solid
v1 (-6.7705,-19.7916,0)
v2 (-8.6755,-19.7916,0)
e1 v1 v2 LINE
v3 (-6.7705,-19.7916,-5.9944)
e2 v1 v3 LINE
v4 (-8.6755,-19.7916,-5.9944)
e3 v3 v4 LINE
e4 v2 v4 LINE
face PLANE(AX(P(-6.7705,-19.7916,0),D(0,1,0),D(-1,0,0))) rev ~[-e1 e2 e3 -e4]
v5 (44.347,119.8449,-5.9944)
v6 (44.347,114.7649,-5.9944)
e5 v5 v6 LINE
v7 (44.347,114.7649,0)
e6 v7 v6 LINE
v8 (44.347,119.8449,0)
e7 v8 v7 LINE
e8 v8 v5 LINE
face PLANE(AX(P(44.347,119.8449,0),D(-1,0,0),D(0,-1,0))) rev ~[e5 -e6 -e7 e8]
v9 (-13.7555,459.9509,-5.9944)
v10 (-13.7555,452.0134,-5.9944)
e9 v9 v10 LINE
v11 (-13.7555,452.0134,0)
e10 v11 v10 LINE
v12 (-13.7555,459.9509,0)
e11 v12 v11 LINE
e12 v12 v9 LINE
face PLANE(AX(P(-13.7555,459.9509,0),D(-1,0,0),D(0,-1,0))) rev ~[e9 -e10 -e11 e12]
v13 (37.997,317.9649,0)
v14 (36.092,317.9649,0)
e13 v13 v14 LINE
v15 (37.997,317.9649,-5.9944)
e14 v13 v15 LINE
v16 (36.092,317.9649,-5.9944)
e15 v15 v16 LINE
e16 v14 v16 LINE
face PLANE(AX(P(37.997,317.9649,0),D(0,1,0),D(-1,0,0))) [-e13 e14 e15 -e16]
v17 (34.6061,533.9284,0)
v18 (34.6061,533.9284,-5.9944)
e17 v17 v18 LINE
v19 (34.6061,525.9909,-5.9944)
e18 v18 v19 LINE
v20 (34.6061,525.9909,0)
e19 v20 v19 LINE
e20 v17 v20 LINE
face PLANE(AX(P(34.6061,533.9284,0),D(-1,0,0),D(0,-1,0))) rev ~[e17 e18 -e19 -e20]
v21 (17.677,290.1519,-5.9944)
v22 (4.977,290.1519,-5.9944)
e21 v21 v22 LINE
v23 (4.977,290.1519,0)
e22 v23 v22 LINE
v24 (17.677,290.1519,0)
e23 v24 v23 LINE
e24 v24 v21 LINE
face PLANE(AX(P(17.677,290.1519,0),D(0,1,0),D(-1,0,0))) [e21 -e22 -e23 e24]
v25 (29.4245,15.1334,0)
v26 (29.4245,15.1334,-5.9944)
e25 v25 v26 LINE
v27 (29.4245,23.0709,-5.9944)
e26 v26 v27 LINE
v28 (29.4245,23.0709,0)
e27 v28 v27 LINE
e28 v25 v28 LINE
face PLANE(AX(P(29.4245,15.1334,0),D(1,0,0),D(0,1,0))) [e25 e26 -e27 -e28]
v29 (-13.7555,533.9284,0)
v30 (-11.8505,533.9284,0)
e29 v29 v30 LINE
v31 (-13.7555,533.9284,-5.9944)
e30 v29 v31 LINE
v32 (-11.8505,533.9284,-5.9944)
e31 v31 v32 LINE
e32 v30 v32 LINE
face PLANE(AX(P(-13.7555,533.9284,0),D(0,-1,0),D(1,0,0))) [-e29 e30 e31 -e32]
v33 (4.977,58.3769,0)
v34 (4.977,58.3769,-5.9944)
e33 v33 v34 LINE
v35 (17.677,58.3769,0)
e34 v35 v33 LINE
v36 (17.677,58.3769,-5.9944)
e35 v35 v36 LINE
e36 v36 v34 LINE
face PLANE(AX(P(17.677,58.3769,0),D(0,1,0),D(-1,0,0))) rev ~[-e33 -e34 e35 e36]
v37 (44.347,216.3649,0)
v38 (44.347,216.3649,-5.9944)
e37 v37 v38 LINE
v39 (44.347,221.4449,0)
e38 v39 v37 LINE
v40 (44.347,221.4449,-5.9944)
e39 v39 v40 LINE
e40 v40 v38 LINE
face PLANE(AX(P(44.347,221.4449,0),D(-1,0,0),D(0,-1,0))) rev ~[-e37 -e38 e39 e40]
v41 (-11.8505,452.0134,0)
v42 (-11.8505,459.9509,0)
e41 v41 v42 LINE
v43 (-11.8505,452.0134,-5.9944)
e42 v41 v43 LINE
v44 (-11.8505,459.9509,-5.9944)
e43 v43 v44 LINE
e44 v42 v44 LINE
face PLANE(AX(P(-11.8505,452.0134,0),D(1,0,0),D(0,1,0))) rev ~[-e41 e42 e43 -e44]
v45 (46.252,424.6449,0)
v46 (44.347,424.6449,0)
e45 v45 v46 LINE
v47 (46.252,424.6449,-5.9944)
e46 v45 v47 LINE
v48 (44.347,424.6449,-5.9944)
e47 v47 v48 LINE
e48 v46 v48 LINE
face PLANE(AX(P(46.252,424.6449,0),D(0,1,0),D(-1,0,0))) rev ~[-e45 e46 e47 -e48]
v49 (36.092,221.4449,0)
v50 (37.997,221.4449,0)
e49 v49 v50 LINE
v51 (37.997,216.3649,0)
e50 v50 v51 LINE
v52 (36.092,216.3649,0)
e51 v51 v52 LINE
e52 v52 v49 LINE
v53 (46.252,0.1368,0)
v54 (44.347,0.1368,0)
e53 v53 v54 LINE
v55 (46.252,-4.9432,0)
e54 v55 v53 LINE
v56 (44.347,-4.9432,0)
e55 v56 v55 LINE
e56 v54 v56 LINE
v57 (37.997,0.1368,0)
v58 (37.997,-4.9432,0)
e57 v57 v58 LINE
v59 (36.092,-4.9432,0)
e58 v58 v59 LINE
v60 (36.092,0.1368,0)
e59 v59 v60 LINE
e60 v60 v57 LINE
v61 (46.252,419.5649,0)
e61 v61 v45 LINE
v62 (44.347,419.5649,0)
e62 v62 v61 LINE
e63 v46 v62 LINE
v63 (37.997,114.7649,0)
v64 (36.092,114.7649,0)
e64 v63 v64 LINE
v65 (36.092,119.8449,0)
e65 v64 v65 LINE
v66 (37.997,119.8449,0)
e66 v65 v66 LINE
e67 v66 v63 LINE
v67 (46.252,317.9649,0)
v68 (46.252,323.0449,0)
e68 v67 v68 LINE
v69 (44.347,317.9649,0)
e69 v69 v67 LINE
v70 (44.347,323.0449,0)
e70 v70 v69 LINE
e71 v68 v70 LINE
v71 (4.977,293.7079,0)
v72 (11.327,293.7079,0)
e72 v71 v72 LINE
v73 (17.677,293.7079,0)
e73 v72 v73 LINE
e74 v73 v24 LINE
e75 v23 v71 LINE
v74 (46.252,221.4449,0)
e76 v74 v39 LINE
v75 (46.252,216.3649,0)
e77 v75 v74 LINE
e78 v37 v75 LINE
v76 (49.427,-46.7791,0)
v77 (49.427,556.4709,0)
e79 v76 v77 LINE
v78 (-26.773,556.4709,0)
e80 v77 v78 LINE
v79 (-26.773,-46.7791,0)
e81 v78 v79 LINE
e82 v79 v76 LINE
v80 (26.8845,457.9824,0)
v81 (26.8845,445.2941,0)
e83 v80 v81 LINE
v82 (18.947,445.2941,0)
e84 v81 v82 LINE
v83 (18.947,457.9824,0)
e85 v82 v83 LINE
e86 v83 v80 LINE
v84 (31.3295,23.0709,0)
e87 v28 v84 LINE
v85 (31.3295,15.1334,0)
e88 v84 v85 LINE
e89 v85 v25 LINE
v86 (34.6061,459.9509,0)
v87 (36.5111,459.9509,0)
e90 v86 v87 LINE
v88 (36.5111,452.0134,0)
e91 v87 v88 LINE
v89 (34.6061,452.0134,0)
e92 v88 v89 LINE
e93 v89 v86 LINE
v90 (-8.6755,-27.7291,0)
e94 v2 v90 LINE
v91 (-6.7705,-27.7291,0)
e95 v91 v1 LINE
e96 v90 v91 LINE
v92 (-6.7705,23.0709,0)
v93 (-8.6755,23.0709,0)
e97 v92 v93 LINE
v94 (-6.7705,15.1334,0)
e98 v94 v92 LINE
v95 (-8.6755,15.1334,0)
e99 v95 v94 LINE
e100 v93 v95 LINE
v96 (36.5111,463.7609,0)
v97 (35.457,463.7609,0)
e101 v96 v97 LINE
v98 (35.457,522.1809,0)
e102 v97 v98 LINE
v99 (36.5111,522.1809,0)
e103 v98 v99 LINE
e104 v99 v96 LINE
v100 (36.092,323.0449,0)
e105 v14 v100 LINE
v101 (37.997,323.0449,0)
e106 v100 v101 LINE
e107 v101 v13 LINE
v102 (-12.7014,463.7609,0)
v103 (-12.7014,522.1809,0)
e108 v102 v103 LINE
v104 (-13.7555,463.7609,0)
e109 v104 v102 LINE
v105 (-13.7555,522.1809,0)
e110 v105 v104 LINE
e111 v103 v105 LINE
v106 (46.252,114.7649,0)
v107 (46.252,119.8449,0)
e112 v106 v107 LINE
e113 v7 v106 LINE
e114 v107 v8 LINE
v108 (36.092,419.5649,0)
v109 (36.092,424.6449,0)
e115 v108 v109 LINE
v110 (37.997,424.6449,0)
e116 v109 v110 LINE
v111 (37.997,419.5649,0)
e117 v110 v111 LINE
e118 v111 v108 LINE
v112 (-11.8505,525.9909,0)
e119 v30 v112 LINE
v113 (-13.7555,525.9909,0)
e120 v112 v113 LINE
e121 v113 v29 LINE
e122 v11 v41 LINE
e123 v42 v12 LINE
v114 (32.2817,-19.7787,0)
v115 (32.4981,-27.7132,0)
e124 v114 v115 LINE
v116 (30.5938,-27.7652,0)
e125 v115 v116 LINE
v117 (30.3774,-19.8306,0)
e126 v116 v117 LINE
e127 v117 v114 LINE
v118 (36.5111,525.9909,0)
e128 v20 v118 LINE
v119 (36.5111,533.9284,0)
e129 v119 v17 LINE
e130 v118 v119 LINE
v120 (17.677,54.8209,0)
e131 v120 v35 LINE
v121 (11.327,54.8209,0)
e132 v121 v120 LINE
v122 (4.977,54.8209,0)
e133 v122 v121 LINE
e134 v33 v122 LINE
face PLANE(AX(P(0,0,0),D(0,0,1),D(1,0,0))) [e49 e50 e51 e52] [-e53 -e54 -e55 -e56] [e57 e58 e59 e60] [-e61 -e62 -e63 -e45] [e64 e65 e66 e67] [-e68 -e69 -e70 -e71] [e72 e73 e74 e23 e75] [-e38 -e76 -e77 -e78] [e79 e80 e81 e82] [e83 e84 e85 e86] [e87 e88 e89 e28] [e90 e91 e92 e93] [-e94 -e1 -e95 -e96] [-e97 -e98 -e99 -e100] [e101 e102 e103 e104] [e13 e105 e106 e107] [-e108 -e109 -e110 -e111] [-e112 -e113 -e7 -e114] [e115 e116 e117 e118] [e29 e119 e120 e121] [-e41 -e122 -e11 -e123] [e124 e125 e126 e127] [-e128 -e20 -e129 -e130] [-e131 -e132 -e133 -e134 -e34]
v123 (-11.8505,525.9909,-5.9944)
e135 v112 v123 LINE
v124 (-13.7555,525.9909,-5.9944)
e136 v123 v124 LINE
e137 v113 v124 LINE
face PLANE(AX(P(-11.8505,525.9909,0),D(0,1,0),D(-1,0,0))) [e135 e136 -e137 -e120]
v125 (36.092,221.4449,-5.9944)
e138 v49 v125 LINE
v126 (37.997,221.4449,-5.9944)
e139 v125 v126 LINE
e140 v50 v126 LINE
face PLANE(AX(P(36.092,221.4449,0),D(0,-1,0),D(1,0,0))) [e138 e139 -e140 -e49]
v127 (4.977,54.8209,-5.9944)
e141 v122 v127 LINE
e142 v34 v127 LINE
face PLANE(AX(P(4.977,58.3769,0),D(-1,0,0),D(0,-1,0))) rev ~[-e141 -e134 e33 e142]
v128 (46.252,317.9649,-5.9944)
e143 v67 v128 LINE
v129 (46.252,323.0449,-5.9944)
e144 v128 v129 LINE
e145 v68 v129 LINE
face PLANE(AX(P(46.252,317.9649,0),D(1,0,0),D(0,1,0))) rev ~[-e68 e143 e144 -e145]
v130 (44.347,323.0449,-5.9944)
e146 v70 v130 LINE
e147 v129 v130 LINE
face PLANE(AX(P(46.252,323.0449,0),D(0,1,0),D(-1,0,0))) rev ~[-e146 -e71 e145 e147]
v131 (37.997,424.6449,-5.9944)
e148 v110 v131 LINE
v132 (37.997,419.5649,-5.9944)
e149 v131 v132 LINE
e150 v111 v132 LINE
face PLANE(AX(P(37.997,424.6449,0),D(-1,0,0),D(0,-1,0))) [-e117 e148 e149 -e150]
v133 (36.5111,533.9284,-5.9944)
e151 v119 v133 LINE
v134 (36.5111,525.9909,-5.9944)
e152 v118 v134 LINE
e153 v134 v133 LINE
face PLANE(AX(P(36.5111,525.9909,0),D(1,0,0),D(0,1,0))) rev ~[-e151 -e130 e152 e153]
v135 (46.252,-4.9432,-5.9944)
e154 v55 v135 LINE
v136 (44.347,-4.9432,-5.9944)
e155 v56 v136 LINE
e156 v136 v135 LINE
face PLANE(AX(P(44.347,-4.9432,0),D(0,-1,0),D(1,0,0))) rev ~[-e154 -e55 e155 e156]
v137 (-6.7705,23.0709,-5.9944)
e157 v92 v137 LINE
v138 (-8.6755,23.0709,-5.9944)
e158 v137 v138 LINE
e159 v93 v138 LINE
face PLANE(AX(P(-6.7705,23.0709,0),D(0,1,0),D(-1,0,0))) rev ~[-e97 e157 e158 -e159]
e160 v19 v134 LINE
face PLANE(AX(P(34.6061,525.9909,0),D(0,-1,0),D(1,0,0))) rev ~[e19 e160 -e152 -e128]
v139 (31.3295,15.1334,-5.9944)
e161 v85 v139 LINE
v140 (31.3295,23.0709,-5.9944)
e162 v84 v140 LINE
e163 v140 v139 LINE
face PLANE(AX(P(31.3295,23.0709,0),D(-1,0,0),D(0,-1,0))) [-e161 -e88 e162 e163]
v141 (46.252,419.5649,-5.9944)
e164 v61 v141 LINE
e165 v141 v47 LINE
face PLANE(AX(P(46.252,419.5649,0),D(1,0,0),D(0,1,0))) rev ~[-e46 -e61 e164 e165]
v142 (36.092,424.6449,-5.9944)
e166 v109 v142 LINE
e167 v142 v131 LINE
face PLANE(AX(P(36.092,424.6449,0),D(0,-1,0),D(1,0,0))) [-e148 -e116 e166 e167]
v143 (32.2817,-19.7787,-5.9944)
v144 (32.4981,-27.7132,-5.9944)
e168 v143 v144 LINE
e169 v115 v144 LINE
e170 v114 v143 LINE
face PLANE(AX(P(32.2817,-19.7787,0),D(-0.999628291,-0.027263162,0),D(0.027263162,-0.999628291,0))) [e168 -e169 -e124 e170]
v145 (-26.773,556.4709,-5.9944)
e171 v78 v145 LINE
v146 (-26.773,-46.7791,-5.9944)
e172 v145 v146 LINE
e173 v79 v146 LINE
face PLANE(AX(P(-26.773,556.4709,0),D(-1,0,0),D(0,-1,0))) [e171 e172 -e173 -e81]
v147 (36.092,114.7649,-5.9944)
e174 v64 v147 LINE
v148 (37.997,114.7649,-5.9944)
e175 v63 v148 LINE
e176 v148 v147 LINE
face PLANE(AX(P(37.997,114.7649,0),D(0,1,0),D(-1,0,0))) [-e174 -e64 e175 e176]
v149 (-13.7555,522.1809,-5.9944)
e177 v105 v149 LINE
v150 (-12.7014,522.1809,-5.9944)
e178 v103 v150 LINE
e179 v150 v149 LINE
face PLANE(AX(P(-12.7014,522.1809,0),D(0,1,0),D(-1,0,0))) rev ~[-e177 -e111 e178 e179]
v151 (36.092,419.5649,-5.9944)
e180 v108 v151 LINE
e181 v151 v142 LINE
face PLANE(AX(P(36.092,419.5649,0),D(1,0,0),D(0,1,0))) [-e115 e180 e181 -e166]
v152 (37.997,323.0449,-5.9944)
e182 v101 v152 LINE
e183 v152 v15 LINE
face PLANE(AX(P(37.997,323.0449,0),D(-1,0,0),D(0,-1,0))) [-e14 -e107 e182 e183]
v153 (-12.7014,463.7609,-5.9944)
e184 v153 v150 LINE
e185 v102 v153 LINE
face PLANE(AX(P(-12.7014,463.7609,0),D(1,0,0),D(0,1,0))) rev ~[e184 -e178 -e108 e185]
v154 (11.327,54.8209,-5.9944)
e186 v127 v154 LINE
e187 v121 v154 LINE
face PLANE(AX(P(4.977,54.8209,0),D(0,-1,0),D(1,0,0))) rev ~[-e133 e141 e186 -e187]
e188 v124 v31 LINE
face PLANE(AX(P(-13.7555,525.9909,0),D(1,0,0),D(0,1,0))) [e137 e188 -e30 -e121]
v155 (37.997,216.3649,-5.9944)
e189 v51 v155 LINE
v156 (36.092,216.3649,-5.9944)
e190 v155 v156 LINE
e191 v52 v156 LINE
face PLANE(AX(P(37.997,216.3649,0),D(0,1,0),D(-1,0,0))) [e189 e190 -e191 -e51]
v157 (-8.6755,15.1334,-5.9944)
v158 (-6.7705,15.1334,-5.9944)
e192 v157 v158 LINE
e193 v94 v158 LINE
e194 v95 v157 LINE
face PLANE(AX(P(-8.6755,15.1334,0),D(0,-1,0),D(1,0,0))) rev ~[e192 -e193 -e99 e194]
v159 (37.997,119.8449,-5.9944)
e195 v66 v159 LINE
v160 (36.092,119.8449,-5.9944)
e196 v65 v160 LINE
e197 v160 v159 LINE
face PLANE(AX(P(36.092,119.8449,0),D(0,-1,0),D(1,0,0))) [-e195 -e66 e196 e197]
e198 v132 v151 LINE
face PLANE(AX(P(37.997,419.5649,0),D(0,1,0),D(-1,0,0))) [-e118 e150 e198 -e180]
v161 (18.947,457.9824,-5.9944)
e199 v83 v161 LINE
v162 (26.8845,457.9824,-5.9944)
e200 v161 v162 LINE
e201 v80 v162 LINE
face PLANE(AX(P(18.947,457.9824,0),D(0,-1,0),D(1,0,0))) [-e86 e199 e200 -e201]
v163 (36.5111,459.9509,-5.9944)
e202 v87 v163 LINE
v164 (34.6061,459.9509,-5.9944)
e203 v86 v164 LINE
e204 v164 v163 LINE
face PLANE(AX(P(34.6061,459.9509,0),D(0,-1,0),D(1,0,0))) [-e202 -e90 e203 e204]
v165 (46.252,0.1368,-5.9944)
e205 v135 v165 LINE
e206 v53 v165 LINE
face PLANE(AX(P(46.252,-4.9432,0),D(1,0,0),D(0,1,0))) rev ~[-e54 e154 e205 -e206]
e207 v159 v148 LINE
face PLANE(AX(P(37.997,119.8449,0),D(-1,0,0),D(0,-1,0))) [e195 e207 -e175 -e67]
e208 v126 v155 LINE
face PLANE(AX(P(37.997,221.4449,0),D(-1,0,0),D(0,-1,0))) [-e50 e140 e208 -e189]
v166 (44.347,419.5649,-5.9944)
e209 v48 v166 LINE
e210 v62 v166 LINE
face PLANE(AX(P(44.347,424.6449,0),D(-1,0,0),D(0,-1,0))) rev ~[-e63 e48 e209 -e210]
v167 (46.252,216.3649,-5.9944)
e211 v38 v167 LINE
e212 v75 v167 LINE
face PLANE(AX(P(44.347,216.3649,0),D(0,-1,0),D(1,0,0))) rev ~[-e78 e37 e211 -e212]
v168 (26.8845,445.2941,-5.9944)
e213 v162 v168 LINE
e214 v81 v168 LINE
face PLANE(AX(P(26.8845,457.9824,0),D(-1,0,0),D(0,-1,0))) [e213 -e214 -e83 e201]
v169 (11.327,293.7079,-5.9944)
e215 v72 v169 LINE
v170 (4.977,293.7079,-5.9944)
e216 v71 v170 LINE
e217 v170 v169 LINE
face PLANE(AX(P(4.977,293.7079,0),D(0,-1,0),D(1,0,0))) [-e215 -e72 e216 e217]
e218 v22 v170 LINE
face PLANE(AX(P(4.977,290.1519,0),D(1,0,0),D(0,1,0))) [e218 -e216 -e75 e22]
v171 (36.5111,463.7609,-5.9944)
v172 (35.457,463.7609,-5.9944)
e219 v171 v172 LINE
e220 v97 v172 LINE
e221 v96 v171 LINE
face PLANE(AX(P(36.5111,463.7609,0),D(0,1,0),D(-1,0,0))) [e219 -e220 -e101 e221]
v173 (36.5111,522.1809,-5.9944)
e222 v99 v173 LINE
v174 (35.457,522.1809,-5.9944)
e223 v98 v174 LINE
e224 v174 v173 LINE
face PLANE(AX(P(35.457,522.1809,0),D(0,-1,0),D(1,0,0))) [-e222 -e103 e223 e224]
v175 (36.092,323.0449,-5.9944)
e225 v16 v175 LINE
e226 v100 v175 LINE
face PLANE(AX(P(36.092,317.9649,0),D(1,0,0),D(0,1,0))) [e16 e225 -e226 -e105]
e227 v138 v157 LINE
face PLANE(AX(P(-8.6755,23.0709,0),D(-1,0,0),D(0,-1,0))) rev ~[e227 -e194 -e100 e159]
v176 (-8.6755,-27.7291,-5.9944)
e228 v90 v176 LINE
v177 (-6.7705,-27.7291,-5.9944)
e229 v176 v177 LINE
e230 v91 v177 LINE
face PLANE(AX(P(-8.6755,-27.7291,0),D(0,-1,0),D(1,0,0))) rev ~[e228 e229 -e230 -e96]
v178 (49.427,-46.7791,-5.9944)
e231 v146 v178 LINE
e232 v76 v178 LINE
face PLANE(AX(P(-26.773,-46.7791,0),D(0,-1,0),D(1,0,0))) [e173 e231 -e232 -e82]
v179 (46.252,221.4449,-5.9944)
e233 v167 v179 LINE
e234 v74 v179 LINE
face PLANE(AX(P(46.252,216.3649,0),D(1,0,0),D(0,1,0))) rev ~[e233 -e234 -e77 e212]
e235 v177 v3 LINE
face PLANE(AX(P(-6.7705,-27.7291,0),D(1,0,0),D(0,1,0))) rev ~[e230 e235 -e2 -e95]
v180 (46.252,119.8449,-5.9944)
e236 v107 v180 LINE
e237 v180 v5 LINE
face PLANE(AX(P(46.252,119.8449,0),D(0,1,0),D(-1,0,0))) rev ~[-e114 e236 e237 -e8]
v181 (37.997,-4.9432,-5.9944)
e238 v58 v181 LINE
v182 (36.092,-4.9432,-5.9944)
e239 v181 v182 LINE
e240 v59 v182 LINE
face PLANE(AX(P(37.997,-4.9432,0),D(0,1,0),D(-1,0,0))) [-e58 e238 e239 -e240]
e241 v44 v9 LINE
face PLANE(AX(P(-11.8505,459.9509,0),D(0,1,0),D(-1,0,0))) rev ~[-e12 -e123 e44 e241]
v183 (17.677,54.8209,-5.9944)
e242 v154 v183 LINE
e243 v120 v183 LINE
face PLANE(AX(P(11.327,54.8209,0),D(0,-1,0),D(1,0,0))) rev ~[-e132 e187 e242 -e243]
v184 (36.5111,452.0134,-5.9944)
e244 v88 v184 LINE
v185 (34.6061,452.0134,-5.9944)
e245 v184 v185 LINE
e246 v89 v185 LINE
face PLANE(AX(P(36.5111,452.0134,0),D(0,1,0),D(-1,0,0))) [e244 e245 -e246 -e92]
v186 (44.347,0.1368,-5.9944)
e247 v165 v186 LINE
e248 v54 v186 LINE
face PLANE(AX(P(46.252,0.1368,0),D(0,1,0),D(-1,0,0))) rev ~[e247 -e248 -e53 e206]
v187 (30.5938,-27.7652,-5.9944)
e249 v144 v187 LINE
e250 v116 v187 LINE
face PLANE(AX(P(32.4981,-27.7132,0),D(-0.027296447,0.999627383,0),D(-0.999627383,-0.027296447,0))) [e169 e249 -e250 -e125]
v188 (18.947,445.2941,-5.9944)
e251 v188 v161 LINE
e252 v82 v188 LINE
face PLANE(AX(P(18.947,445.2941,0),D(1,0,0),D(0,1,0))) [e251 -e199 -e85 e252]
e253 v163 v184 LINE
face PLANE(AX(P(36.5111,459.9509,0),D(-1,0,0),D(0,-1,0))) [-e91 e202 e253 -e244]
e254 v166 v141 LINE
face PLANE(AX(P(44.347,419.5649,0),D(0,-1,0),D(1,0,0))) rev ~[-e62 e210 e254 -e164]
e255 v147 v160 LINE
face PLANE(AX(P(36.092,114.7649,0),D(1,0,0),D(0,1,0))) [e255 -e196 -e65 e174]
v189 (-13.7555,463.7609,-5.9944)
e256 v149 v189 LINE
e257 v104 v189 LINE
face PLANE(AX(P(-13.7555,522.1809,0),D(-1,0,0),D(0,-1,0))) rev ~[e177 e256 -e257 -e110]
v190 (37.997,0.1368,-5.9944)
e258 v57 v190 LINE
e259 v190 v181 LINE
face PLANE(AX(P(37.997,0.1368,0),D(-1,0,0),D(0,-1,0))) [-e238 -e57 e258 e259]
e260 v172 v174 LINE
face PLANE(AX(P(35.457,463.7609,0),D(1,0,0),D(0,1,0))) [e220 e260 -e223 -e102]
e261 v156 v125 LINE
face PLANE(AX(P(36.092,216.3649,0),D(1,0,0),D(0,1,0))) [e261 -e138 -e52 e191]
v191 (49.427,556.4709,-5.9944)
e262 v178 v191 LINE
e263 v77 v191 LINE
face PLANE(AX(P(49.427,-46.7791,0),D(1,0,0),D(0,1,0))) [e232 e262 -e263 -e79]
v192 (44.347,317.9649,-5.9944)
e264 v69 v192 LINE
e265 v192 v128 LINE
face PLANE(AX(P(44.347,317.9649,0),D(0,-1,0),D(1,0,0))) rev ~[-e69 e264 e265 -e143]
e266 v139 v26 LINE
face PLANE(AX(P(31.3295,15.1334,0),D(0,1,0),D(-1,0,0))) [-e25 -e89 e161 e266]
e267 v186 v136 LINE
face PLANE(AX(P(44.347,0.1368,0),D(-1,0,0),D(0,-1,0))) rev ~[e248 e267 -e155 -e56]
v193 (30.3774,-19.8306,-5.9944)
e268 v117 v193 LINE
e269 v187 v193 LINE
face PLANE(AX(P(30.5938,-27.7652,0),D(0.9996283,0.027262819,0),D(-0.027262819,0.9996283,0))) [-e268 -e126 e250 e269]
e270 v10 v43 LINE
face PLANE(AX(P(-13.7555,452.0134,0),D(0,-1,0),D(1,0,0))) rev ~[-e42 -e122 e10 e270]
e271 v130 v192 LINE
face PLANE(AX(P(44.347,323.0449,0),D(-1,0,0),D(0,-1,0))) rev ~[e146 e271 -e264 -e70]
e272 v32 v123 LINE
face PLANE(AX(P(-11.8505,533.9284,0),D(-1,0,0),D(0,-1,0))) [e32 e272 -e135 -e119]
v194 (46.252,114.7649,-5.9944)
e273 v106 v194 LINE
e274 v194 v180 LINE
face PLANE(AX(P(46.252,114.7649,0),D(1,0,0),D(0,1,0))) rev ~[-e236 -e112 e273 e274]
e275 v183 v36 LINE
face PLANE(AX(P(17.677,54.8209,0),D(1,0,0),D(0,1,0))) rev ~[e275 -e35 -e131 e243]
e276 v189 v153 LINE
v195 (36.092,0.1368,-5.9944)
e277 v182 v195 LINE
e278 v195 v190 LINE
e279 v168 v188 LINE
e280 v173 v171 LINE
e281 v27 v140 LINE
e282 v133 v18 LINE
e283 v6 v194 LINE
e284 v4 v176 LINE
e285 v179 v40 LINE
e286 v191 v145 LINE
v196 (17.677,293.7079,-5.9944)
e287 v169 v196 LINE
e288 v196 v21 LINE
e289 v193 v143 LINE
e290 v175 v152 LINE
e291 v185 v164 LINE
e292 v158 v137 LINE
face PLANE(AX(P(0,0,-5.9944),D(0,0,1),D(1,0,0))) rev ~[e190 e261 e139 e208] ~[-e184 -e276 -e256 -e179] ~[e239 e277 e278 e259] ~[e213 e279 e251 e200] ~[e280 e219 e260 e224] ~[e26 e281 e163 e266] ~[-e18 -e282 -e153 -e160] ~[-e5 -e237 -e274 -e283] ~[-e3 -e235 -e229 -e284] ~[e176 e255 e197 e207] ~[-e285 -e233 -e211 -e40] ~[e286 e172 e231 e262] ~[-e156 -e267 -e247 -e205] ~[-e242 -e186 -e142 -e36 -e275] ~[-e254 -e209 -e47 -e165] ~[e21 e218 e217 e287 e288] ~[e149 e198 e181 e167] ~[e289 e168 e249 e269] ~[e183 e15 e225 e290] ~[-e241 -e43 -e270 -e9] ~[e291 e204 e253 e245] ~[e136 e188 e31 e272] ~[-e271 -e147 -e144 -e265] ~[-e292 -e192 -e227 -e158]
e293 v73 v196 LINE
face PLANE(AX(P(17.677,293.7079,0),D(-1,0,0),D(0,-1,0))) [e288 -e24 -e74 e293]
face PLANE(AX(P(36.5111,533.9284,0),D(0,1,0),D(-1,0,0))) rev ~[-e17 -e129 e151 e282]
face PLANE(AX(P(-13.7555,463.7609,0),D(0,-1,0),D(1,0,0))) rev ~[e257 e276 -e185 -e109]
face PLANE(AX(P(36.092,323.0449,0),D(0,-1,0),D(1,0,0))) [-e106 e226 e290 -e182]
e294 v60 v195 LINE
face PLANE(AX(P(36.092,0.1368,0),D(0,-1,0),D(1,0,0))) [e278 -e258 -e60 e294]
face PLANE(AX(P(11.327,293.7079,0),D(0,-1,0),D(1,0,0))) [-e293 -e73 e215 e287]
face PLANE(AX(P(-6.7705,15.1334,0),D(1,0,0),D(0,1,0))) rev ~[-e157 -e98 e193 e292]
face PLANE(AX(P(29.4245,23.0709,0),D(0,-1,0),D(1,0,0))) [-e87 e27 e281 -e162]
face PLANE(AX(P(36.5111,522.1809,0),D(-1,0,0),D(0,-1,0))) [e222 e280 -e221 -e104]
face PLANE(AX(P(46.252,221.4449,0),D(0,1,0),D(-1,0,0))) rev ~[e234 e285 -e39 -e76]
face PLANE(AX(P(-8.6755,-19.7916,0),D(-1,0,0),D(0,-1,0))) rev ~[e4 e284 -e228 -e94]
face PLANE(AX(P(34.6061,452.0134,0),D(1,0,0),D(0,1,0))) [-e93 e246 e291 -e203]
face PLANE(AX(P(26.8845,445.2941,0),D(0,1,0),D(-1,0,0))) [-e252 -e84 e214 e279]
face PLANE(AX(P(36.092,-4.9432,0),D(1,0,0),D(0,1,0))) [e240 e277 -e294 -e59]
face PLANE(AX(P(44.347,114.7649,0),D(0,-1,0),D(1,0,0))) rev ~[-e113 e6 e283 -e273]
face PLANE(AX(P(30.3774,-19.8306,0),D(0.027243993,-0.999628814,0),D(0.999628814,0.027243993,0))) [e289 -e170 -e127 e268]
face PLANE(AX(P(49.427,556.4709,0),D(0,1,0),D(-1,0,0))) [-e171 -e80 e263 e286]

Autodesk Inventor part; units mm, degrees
ref_plane "YZ Plane" through (0, 0, 0) normal (1, 0, 0) x (0, 1, 0)
ref_plane "XZ Plane" through (0, 0, 0) normal (0, 1, 0) x (-1, 0, 0)
ref_plane "XY Plane" through (0, 0, 0) normal (0, 0, 1) x (1, 0, 0)
sketch "Sketch1" plane through (0, 0, 0) normal (0, 0, 1) x (1, 0, 0)
  point P0 (0, 0)
sketch "Sketch2" plane through (0, 0, 0) normal (0, 0, 1) x (1, 0, 0)
  line L0 (-26.773, -46.7791) -> (49.427, -46.7791)
  line L1 (49.427, -46.7791) -> (49.427, 556.4709)
  line L2 (-26.773, 556.4709) -> (-26.773, -46.7791)
  line L3 (-13.7555, 533.9284) -> (-11.8505, 533.9284)
  line L4 (-11.8505, 533.9284) -> (-11.8505, 525.9909)
  line L5 (-11.8505, 525.9909) -> (-13.7555, 525.9909)
  line L6 (-13.7555, 525.9909) -> (-13.7555, 533.9284)
  line L7 (46.252, 424.6449) -> (44.347, 424.6449)
  line L8 (44.347, 424.6449) -> (44.347, 419.5649)
  line L9 (44.347, 419.5649) -> (46.252, 419.5649)
  line L10 (46.252, 419.5649) -> (46.252, 424.6449)
  line L11 (36.5111, 522.1809) -> (36.5111, 463.7609)
  line L12 (36.5111, 463.7609) -> (35.457, 463.7609)
  line L13 (35.457, 463.7609) -> (35.457, 522.1809)
  line L14 (35.457, 522.1809) -> (36.5111, 522.1809)
  line L15 (-13.7555, 522.1809) -> (-13.7555, 463.7609)
  line L16 (-13.7555, 463.7609) -> (-12.7014, 463.7609)
  line L17 (-12.7014, 463.7609) -> (-12.7014, 522.1809)
  line L18 (-12.7014, 522.1809) -> (-13.7555, 522.1809)
  line L19 (26.8845, 445.2941) -> (18.947, 445.2941)
  line L20 (18.947, 445.2941) -> (18.947, 457.9824)
  line L21 (18.947, 457.9824) -> (26.8845, 457.9824)
  line L22 (26.8845, 457.9824) -> (26.8845, 445.2941)
  line L23 (11.327, 54.8209) -> (17.677, 54.8209)
  line L24 (17.677, 54.8209) -> (17.677, 58.3769)
  line L25 (17.677, 58.3769) -> (4.977, 58.3769)
  line L26 (4.977, 58.3769) -> (4.977, 54.8209)
  line L27 (4.977, 54.8209) -> (11.327, 54.8209)
  line L28 (11.327, 293.7079) -> (17.677, 293.7079)
  line L29 (17.677, 293.7079) -> (17.677, 290.1519)
  line L30 (17.677, 290.1519) -> (4.977, 290.1519)
  line L31 (4.977, 290.1519) -> (4.977, 293.7079)
  line L32 (4.977, 293.7079) -> (11.327, 293.7079)
  line L33 (36.092, 424.6449) -> (37.997, 424.6449)
  line L34 (37.997, 424.6449) -> (37.997, 419.5649)
  line L35 (37.997, 419.5649) -> (36.092, 419.5649)
  line L36 (36.092, 419.5649) -> (36.092, 424.6449)
  line L37 (46.252, 323.0449) -> (44.347, 323.0449)
  line L38 (44.347, 323.0449) -> (44.347, 317.9649)
  line L39 (44.347, 317.9649) -> (46.252, 317.9649)
  line L40 (46.252, 317.9649) -> (46.252, 323.0449)
  line L41 (36.092, 323.0449) -> (37.997, 323.0449)
  line L42 (37.997, 323.0449) -> (37.997, 317.9649)
  line L43 (37.997, 317.9649) -> (36.092, 317.9649)
  line L44 (36.092, 317.9649) -> (36.092, 323.0449)
  line L45 (46.252, 221.4449) -> (44.347, 221.4449)
  line L46 (44.347, 221.4449) -> (44.347, 216.3649)
  line L47 (44.347, 216.3649) -> (46.252, 216.3649)
  line L48 (46.252, 216.3649) -> (46.252, 221.4449)
  line L49 (36.092, 221.4449) -> (37.997, 221.4449)
  line L50 (37.997, 221.4449) -> (37.997, 216.3649)
  line L51 (37.997, 216.3649) -> (36.092, 216.3649)
  line L52 (36.092, 216.3649) -> (36.092, 221.4449)
  line L53 (46.252, 0.1368) -> (44.347, 0.1368)
  line L54 (44.347, 0.1368) -> (44.347, -4.9432)
  line L55 (44.347, -4.9432) -> (46.252, -4.9432)
  line L56 (46.252, -4.9432) -> (46.252, 0.1368)
  line L57 (36.092, 0.1368) -> (37.997, 0.1368)
  line L58 (37.997, 0.1368) -> (37.997, -4.9432)
  line L59 (37.997, -4.9432) -> (36.092, -4.9432)
  line L60 (36.092, -4.9432) -> (36.092, 0.1368)
  line L61 (49.427, 556.4709) -> (-26.773, 556.4709)
  line L62 (46.252, 424.6449) -> (147.852, 424.6449) construction
  line L63 (46.252, 119.8449) -> (147.852, 119.8449) construction
  line L64 (46.252, 119.8449) -> (44.347, 119.8449)
  line L65 (44.347, 119.8449) -> (44.347, 114.7649)
  line L66 (44.347, 114.7649) -> (46.252, 114.7649)
  line L67 (46.252, 114.7649) -> (46.252, 119.8449)
  line L68 (36.092, 119.8449) -> (37.997, 119.8449)
  line L69 (36.092, 114.7649) -> (36.092, 119.8449)
  line L70 (37.997, 114.7649) -> (36.092, 114.7649)
  line L71 (37.997, 119.8449) -> (37.997, 114.7649)
  line L72 (36.5111, 533.9284) -> (34.6061, 533.9284)
  line L73 (34.6061, 533.9284) -> (34.6061, 525.9909)
  line L74 (34.6061, 525.9909) -> (36.5111, 525.9909)
  line L75 (36.5111, 525.9909) -> (36.5111, 533.9284)
  line L76 (-13.7555, 452.0134) -> (-11.8505, 452.0134)
  line L77 (-11.8505, 452.0134) -> (-11.8505, 459.9509)
  line L78 (-11.8505, 459.9509) -> (-13.7555, 459.9509)
  line L79 (-13.7555, 459.9509) -> (-13.7555, 452.0134)
  line L80 (34.6061, 459.9509) -> (36.5111, 459.9509)
  line L81 (34.6061, 452.0134) -> (34.6061, 459.9509)
  line L82 (36.5111, 459.9509) -> (36.5111, 452.0134)
  line L83 (36.5111, 452.0134) -> (34.6061, 452.0134)
  line L84 (29.4245, 23.0709) -> (31.3295, 23.0709)
  line L85 (31.3295, 23.0709) -> (31.3295, 15.1334)
  line L86 (29.4245, 15.1334) -> (29.4245, 23.0709)
  line L87 (31.3295, 15.1334) -> (29.4245, 15.1334)
  line L88 (-6.7705, 23.0709) -> (-8.6755, 23.0709)
  line L89 (-8.6755, 15.1334) -> (-6.7705, 15.1334)
  line L90 (-8.6755, 23.0709) -> (-8.6755, 15.1334)
  line L91 (-6.7705, 15.1334) -> (-6.7705, 23.0709)
  line L92 (30.3774, -19.8306) -> (32.2817, -19.7787)
  line L93 (32.4981, -27.7132) -> (30.5938, -27.7652)
  line L94 (32.2817, -19.7787) -> (32.4981, -27.7132)
  line L95 (30.5938, -27.7652) -> (30.3774, -19.8306)
  line L96 (-6.7705, -19.7916) -> (-8.6755, -19.7916)
  line L97 (-8.6755, -19.7916) -> (-8.6755, -27.7291)
  line L98 (-8.6755, -27.7291) -> (-6.7705, -27.7291)
  line L99 (-6.7705, -27.7291) -> (-6.7705, -19.7916)
  point P0 (30.377, 23.0709)
  point P1 (-7.723, 23.0709)
  point P2 (-7.723, 23.0709)
  point P3 (30.377, -19.7916)
  point P4 (-6.7705, -27.7291)
  point P5 (-7.723, -19.7916)
  point P6 (-7.723, -19.7916)
  dimension "d0" = 76.2
  dimension "d4" = 1.905
  dimension "d5" = 7.9375
  dimension "d8" = 58.42
  dimension "d13" = 7.9375
  dimension "d16" = 6.35
  dimension "d17" = 3.556
  dimension "d18" = 12.7
extrude "Extrusion3" add sketch "Sketch2" against normal blind 5.9944
properties part number "Tenda Wifi Buoy Mounting Plate"
